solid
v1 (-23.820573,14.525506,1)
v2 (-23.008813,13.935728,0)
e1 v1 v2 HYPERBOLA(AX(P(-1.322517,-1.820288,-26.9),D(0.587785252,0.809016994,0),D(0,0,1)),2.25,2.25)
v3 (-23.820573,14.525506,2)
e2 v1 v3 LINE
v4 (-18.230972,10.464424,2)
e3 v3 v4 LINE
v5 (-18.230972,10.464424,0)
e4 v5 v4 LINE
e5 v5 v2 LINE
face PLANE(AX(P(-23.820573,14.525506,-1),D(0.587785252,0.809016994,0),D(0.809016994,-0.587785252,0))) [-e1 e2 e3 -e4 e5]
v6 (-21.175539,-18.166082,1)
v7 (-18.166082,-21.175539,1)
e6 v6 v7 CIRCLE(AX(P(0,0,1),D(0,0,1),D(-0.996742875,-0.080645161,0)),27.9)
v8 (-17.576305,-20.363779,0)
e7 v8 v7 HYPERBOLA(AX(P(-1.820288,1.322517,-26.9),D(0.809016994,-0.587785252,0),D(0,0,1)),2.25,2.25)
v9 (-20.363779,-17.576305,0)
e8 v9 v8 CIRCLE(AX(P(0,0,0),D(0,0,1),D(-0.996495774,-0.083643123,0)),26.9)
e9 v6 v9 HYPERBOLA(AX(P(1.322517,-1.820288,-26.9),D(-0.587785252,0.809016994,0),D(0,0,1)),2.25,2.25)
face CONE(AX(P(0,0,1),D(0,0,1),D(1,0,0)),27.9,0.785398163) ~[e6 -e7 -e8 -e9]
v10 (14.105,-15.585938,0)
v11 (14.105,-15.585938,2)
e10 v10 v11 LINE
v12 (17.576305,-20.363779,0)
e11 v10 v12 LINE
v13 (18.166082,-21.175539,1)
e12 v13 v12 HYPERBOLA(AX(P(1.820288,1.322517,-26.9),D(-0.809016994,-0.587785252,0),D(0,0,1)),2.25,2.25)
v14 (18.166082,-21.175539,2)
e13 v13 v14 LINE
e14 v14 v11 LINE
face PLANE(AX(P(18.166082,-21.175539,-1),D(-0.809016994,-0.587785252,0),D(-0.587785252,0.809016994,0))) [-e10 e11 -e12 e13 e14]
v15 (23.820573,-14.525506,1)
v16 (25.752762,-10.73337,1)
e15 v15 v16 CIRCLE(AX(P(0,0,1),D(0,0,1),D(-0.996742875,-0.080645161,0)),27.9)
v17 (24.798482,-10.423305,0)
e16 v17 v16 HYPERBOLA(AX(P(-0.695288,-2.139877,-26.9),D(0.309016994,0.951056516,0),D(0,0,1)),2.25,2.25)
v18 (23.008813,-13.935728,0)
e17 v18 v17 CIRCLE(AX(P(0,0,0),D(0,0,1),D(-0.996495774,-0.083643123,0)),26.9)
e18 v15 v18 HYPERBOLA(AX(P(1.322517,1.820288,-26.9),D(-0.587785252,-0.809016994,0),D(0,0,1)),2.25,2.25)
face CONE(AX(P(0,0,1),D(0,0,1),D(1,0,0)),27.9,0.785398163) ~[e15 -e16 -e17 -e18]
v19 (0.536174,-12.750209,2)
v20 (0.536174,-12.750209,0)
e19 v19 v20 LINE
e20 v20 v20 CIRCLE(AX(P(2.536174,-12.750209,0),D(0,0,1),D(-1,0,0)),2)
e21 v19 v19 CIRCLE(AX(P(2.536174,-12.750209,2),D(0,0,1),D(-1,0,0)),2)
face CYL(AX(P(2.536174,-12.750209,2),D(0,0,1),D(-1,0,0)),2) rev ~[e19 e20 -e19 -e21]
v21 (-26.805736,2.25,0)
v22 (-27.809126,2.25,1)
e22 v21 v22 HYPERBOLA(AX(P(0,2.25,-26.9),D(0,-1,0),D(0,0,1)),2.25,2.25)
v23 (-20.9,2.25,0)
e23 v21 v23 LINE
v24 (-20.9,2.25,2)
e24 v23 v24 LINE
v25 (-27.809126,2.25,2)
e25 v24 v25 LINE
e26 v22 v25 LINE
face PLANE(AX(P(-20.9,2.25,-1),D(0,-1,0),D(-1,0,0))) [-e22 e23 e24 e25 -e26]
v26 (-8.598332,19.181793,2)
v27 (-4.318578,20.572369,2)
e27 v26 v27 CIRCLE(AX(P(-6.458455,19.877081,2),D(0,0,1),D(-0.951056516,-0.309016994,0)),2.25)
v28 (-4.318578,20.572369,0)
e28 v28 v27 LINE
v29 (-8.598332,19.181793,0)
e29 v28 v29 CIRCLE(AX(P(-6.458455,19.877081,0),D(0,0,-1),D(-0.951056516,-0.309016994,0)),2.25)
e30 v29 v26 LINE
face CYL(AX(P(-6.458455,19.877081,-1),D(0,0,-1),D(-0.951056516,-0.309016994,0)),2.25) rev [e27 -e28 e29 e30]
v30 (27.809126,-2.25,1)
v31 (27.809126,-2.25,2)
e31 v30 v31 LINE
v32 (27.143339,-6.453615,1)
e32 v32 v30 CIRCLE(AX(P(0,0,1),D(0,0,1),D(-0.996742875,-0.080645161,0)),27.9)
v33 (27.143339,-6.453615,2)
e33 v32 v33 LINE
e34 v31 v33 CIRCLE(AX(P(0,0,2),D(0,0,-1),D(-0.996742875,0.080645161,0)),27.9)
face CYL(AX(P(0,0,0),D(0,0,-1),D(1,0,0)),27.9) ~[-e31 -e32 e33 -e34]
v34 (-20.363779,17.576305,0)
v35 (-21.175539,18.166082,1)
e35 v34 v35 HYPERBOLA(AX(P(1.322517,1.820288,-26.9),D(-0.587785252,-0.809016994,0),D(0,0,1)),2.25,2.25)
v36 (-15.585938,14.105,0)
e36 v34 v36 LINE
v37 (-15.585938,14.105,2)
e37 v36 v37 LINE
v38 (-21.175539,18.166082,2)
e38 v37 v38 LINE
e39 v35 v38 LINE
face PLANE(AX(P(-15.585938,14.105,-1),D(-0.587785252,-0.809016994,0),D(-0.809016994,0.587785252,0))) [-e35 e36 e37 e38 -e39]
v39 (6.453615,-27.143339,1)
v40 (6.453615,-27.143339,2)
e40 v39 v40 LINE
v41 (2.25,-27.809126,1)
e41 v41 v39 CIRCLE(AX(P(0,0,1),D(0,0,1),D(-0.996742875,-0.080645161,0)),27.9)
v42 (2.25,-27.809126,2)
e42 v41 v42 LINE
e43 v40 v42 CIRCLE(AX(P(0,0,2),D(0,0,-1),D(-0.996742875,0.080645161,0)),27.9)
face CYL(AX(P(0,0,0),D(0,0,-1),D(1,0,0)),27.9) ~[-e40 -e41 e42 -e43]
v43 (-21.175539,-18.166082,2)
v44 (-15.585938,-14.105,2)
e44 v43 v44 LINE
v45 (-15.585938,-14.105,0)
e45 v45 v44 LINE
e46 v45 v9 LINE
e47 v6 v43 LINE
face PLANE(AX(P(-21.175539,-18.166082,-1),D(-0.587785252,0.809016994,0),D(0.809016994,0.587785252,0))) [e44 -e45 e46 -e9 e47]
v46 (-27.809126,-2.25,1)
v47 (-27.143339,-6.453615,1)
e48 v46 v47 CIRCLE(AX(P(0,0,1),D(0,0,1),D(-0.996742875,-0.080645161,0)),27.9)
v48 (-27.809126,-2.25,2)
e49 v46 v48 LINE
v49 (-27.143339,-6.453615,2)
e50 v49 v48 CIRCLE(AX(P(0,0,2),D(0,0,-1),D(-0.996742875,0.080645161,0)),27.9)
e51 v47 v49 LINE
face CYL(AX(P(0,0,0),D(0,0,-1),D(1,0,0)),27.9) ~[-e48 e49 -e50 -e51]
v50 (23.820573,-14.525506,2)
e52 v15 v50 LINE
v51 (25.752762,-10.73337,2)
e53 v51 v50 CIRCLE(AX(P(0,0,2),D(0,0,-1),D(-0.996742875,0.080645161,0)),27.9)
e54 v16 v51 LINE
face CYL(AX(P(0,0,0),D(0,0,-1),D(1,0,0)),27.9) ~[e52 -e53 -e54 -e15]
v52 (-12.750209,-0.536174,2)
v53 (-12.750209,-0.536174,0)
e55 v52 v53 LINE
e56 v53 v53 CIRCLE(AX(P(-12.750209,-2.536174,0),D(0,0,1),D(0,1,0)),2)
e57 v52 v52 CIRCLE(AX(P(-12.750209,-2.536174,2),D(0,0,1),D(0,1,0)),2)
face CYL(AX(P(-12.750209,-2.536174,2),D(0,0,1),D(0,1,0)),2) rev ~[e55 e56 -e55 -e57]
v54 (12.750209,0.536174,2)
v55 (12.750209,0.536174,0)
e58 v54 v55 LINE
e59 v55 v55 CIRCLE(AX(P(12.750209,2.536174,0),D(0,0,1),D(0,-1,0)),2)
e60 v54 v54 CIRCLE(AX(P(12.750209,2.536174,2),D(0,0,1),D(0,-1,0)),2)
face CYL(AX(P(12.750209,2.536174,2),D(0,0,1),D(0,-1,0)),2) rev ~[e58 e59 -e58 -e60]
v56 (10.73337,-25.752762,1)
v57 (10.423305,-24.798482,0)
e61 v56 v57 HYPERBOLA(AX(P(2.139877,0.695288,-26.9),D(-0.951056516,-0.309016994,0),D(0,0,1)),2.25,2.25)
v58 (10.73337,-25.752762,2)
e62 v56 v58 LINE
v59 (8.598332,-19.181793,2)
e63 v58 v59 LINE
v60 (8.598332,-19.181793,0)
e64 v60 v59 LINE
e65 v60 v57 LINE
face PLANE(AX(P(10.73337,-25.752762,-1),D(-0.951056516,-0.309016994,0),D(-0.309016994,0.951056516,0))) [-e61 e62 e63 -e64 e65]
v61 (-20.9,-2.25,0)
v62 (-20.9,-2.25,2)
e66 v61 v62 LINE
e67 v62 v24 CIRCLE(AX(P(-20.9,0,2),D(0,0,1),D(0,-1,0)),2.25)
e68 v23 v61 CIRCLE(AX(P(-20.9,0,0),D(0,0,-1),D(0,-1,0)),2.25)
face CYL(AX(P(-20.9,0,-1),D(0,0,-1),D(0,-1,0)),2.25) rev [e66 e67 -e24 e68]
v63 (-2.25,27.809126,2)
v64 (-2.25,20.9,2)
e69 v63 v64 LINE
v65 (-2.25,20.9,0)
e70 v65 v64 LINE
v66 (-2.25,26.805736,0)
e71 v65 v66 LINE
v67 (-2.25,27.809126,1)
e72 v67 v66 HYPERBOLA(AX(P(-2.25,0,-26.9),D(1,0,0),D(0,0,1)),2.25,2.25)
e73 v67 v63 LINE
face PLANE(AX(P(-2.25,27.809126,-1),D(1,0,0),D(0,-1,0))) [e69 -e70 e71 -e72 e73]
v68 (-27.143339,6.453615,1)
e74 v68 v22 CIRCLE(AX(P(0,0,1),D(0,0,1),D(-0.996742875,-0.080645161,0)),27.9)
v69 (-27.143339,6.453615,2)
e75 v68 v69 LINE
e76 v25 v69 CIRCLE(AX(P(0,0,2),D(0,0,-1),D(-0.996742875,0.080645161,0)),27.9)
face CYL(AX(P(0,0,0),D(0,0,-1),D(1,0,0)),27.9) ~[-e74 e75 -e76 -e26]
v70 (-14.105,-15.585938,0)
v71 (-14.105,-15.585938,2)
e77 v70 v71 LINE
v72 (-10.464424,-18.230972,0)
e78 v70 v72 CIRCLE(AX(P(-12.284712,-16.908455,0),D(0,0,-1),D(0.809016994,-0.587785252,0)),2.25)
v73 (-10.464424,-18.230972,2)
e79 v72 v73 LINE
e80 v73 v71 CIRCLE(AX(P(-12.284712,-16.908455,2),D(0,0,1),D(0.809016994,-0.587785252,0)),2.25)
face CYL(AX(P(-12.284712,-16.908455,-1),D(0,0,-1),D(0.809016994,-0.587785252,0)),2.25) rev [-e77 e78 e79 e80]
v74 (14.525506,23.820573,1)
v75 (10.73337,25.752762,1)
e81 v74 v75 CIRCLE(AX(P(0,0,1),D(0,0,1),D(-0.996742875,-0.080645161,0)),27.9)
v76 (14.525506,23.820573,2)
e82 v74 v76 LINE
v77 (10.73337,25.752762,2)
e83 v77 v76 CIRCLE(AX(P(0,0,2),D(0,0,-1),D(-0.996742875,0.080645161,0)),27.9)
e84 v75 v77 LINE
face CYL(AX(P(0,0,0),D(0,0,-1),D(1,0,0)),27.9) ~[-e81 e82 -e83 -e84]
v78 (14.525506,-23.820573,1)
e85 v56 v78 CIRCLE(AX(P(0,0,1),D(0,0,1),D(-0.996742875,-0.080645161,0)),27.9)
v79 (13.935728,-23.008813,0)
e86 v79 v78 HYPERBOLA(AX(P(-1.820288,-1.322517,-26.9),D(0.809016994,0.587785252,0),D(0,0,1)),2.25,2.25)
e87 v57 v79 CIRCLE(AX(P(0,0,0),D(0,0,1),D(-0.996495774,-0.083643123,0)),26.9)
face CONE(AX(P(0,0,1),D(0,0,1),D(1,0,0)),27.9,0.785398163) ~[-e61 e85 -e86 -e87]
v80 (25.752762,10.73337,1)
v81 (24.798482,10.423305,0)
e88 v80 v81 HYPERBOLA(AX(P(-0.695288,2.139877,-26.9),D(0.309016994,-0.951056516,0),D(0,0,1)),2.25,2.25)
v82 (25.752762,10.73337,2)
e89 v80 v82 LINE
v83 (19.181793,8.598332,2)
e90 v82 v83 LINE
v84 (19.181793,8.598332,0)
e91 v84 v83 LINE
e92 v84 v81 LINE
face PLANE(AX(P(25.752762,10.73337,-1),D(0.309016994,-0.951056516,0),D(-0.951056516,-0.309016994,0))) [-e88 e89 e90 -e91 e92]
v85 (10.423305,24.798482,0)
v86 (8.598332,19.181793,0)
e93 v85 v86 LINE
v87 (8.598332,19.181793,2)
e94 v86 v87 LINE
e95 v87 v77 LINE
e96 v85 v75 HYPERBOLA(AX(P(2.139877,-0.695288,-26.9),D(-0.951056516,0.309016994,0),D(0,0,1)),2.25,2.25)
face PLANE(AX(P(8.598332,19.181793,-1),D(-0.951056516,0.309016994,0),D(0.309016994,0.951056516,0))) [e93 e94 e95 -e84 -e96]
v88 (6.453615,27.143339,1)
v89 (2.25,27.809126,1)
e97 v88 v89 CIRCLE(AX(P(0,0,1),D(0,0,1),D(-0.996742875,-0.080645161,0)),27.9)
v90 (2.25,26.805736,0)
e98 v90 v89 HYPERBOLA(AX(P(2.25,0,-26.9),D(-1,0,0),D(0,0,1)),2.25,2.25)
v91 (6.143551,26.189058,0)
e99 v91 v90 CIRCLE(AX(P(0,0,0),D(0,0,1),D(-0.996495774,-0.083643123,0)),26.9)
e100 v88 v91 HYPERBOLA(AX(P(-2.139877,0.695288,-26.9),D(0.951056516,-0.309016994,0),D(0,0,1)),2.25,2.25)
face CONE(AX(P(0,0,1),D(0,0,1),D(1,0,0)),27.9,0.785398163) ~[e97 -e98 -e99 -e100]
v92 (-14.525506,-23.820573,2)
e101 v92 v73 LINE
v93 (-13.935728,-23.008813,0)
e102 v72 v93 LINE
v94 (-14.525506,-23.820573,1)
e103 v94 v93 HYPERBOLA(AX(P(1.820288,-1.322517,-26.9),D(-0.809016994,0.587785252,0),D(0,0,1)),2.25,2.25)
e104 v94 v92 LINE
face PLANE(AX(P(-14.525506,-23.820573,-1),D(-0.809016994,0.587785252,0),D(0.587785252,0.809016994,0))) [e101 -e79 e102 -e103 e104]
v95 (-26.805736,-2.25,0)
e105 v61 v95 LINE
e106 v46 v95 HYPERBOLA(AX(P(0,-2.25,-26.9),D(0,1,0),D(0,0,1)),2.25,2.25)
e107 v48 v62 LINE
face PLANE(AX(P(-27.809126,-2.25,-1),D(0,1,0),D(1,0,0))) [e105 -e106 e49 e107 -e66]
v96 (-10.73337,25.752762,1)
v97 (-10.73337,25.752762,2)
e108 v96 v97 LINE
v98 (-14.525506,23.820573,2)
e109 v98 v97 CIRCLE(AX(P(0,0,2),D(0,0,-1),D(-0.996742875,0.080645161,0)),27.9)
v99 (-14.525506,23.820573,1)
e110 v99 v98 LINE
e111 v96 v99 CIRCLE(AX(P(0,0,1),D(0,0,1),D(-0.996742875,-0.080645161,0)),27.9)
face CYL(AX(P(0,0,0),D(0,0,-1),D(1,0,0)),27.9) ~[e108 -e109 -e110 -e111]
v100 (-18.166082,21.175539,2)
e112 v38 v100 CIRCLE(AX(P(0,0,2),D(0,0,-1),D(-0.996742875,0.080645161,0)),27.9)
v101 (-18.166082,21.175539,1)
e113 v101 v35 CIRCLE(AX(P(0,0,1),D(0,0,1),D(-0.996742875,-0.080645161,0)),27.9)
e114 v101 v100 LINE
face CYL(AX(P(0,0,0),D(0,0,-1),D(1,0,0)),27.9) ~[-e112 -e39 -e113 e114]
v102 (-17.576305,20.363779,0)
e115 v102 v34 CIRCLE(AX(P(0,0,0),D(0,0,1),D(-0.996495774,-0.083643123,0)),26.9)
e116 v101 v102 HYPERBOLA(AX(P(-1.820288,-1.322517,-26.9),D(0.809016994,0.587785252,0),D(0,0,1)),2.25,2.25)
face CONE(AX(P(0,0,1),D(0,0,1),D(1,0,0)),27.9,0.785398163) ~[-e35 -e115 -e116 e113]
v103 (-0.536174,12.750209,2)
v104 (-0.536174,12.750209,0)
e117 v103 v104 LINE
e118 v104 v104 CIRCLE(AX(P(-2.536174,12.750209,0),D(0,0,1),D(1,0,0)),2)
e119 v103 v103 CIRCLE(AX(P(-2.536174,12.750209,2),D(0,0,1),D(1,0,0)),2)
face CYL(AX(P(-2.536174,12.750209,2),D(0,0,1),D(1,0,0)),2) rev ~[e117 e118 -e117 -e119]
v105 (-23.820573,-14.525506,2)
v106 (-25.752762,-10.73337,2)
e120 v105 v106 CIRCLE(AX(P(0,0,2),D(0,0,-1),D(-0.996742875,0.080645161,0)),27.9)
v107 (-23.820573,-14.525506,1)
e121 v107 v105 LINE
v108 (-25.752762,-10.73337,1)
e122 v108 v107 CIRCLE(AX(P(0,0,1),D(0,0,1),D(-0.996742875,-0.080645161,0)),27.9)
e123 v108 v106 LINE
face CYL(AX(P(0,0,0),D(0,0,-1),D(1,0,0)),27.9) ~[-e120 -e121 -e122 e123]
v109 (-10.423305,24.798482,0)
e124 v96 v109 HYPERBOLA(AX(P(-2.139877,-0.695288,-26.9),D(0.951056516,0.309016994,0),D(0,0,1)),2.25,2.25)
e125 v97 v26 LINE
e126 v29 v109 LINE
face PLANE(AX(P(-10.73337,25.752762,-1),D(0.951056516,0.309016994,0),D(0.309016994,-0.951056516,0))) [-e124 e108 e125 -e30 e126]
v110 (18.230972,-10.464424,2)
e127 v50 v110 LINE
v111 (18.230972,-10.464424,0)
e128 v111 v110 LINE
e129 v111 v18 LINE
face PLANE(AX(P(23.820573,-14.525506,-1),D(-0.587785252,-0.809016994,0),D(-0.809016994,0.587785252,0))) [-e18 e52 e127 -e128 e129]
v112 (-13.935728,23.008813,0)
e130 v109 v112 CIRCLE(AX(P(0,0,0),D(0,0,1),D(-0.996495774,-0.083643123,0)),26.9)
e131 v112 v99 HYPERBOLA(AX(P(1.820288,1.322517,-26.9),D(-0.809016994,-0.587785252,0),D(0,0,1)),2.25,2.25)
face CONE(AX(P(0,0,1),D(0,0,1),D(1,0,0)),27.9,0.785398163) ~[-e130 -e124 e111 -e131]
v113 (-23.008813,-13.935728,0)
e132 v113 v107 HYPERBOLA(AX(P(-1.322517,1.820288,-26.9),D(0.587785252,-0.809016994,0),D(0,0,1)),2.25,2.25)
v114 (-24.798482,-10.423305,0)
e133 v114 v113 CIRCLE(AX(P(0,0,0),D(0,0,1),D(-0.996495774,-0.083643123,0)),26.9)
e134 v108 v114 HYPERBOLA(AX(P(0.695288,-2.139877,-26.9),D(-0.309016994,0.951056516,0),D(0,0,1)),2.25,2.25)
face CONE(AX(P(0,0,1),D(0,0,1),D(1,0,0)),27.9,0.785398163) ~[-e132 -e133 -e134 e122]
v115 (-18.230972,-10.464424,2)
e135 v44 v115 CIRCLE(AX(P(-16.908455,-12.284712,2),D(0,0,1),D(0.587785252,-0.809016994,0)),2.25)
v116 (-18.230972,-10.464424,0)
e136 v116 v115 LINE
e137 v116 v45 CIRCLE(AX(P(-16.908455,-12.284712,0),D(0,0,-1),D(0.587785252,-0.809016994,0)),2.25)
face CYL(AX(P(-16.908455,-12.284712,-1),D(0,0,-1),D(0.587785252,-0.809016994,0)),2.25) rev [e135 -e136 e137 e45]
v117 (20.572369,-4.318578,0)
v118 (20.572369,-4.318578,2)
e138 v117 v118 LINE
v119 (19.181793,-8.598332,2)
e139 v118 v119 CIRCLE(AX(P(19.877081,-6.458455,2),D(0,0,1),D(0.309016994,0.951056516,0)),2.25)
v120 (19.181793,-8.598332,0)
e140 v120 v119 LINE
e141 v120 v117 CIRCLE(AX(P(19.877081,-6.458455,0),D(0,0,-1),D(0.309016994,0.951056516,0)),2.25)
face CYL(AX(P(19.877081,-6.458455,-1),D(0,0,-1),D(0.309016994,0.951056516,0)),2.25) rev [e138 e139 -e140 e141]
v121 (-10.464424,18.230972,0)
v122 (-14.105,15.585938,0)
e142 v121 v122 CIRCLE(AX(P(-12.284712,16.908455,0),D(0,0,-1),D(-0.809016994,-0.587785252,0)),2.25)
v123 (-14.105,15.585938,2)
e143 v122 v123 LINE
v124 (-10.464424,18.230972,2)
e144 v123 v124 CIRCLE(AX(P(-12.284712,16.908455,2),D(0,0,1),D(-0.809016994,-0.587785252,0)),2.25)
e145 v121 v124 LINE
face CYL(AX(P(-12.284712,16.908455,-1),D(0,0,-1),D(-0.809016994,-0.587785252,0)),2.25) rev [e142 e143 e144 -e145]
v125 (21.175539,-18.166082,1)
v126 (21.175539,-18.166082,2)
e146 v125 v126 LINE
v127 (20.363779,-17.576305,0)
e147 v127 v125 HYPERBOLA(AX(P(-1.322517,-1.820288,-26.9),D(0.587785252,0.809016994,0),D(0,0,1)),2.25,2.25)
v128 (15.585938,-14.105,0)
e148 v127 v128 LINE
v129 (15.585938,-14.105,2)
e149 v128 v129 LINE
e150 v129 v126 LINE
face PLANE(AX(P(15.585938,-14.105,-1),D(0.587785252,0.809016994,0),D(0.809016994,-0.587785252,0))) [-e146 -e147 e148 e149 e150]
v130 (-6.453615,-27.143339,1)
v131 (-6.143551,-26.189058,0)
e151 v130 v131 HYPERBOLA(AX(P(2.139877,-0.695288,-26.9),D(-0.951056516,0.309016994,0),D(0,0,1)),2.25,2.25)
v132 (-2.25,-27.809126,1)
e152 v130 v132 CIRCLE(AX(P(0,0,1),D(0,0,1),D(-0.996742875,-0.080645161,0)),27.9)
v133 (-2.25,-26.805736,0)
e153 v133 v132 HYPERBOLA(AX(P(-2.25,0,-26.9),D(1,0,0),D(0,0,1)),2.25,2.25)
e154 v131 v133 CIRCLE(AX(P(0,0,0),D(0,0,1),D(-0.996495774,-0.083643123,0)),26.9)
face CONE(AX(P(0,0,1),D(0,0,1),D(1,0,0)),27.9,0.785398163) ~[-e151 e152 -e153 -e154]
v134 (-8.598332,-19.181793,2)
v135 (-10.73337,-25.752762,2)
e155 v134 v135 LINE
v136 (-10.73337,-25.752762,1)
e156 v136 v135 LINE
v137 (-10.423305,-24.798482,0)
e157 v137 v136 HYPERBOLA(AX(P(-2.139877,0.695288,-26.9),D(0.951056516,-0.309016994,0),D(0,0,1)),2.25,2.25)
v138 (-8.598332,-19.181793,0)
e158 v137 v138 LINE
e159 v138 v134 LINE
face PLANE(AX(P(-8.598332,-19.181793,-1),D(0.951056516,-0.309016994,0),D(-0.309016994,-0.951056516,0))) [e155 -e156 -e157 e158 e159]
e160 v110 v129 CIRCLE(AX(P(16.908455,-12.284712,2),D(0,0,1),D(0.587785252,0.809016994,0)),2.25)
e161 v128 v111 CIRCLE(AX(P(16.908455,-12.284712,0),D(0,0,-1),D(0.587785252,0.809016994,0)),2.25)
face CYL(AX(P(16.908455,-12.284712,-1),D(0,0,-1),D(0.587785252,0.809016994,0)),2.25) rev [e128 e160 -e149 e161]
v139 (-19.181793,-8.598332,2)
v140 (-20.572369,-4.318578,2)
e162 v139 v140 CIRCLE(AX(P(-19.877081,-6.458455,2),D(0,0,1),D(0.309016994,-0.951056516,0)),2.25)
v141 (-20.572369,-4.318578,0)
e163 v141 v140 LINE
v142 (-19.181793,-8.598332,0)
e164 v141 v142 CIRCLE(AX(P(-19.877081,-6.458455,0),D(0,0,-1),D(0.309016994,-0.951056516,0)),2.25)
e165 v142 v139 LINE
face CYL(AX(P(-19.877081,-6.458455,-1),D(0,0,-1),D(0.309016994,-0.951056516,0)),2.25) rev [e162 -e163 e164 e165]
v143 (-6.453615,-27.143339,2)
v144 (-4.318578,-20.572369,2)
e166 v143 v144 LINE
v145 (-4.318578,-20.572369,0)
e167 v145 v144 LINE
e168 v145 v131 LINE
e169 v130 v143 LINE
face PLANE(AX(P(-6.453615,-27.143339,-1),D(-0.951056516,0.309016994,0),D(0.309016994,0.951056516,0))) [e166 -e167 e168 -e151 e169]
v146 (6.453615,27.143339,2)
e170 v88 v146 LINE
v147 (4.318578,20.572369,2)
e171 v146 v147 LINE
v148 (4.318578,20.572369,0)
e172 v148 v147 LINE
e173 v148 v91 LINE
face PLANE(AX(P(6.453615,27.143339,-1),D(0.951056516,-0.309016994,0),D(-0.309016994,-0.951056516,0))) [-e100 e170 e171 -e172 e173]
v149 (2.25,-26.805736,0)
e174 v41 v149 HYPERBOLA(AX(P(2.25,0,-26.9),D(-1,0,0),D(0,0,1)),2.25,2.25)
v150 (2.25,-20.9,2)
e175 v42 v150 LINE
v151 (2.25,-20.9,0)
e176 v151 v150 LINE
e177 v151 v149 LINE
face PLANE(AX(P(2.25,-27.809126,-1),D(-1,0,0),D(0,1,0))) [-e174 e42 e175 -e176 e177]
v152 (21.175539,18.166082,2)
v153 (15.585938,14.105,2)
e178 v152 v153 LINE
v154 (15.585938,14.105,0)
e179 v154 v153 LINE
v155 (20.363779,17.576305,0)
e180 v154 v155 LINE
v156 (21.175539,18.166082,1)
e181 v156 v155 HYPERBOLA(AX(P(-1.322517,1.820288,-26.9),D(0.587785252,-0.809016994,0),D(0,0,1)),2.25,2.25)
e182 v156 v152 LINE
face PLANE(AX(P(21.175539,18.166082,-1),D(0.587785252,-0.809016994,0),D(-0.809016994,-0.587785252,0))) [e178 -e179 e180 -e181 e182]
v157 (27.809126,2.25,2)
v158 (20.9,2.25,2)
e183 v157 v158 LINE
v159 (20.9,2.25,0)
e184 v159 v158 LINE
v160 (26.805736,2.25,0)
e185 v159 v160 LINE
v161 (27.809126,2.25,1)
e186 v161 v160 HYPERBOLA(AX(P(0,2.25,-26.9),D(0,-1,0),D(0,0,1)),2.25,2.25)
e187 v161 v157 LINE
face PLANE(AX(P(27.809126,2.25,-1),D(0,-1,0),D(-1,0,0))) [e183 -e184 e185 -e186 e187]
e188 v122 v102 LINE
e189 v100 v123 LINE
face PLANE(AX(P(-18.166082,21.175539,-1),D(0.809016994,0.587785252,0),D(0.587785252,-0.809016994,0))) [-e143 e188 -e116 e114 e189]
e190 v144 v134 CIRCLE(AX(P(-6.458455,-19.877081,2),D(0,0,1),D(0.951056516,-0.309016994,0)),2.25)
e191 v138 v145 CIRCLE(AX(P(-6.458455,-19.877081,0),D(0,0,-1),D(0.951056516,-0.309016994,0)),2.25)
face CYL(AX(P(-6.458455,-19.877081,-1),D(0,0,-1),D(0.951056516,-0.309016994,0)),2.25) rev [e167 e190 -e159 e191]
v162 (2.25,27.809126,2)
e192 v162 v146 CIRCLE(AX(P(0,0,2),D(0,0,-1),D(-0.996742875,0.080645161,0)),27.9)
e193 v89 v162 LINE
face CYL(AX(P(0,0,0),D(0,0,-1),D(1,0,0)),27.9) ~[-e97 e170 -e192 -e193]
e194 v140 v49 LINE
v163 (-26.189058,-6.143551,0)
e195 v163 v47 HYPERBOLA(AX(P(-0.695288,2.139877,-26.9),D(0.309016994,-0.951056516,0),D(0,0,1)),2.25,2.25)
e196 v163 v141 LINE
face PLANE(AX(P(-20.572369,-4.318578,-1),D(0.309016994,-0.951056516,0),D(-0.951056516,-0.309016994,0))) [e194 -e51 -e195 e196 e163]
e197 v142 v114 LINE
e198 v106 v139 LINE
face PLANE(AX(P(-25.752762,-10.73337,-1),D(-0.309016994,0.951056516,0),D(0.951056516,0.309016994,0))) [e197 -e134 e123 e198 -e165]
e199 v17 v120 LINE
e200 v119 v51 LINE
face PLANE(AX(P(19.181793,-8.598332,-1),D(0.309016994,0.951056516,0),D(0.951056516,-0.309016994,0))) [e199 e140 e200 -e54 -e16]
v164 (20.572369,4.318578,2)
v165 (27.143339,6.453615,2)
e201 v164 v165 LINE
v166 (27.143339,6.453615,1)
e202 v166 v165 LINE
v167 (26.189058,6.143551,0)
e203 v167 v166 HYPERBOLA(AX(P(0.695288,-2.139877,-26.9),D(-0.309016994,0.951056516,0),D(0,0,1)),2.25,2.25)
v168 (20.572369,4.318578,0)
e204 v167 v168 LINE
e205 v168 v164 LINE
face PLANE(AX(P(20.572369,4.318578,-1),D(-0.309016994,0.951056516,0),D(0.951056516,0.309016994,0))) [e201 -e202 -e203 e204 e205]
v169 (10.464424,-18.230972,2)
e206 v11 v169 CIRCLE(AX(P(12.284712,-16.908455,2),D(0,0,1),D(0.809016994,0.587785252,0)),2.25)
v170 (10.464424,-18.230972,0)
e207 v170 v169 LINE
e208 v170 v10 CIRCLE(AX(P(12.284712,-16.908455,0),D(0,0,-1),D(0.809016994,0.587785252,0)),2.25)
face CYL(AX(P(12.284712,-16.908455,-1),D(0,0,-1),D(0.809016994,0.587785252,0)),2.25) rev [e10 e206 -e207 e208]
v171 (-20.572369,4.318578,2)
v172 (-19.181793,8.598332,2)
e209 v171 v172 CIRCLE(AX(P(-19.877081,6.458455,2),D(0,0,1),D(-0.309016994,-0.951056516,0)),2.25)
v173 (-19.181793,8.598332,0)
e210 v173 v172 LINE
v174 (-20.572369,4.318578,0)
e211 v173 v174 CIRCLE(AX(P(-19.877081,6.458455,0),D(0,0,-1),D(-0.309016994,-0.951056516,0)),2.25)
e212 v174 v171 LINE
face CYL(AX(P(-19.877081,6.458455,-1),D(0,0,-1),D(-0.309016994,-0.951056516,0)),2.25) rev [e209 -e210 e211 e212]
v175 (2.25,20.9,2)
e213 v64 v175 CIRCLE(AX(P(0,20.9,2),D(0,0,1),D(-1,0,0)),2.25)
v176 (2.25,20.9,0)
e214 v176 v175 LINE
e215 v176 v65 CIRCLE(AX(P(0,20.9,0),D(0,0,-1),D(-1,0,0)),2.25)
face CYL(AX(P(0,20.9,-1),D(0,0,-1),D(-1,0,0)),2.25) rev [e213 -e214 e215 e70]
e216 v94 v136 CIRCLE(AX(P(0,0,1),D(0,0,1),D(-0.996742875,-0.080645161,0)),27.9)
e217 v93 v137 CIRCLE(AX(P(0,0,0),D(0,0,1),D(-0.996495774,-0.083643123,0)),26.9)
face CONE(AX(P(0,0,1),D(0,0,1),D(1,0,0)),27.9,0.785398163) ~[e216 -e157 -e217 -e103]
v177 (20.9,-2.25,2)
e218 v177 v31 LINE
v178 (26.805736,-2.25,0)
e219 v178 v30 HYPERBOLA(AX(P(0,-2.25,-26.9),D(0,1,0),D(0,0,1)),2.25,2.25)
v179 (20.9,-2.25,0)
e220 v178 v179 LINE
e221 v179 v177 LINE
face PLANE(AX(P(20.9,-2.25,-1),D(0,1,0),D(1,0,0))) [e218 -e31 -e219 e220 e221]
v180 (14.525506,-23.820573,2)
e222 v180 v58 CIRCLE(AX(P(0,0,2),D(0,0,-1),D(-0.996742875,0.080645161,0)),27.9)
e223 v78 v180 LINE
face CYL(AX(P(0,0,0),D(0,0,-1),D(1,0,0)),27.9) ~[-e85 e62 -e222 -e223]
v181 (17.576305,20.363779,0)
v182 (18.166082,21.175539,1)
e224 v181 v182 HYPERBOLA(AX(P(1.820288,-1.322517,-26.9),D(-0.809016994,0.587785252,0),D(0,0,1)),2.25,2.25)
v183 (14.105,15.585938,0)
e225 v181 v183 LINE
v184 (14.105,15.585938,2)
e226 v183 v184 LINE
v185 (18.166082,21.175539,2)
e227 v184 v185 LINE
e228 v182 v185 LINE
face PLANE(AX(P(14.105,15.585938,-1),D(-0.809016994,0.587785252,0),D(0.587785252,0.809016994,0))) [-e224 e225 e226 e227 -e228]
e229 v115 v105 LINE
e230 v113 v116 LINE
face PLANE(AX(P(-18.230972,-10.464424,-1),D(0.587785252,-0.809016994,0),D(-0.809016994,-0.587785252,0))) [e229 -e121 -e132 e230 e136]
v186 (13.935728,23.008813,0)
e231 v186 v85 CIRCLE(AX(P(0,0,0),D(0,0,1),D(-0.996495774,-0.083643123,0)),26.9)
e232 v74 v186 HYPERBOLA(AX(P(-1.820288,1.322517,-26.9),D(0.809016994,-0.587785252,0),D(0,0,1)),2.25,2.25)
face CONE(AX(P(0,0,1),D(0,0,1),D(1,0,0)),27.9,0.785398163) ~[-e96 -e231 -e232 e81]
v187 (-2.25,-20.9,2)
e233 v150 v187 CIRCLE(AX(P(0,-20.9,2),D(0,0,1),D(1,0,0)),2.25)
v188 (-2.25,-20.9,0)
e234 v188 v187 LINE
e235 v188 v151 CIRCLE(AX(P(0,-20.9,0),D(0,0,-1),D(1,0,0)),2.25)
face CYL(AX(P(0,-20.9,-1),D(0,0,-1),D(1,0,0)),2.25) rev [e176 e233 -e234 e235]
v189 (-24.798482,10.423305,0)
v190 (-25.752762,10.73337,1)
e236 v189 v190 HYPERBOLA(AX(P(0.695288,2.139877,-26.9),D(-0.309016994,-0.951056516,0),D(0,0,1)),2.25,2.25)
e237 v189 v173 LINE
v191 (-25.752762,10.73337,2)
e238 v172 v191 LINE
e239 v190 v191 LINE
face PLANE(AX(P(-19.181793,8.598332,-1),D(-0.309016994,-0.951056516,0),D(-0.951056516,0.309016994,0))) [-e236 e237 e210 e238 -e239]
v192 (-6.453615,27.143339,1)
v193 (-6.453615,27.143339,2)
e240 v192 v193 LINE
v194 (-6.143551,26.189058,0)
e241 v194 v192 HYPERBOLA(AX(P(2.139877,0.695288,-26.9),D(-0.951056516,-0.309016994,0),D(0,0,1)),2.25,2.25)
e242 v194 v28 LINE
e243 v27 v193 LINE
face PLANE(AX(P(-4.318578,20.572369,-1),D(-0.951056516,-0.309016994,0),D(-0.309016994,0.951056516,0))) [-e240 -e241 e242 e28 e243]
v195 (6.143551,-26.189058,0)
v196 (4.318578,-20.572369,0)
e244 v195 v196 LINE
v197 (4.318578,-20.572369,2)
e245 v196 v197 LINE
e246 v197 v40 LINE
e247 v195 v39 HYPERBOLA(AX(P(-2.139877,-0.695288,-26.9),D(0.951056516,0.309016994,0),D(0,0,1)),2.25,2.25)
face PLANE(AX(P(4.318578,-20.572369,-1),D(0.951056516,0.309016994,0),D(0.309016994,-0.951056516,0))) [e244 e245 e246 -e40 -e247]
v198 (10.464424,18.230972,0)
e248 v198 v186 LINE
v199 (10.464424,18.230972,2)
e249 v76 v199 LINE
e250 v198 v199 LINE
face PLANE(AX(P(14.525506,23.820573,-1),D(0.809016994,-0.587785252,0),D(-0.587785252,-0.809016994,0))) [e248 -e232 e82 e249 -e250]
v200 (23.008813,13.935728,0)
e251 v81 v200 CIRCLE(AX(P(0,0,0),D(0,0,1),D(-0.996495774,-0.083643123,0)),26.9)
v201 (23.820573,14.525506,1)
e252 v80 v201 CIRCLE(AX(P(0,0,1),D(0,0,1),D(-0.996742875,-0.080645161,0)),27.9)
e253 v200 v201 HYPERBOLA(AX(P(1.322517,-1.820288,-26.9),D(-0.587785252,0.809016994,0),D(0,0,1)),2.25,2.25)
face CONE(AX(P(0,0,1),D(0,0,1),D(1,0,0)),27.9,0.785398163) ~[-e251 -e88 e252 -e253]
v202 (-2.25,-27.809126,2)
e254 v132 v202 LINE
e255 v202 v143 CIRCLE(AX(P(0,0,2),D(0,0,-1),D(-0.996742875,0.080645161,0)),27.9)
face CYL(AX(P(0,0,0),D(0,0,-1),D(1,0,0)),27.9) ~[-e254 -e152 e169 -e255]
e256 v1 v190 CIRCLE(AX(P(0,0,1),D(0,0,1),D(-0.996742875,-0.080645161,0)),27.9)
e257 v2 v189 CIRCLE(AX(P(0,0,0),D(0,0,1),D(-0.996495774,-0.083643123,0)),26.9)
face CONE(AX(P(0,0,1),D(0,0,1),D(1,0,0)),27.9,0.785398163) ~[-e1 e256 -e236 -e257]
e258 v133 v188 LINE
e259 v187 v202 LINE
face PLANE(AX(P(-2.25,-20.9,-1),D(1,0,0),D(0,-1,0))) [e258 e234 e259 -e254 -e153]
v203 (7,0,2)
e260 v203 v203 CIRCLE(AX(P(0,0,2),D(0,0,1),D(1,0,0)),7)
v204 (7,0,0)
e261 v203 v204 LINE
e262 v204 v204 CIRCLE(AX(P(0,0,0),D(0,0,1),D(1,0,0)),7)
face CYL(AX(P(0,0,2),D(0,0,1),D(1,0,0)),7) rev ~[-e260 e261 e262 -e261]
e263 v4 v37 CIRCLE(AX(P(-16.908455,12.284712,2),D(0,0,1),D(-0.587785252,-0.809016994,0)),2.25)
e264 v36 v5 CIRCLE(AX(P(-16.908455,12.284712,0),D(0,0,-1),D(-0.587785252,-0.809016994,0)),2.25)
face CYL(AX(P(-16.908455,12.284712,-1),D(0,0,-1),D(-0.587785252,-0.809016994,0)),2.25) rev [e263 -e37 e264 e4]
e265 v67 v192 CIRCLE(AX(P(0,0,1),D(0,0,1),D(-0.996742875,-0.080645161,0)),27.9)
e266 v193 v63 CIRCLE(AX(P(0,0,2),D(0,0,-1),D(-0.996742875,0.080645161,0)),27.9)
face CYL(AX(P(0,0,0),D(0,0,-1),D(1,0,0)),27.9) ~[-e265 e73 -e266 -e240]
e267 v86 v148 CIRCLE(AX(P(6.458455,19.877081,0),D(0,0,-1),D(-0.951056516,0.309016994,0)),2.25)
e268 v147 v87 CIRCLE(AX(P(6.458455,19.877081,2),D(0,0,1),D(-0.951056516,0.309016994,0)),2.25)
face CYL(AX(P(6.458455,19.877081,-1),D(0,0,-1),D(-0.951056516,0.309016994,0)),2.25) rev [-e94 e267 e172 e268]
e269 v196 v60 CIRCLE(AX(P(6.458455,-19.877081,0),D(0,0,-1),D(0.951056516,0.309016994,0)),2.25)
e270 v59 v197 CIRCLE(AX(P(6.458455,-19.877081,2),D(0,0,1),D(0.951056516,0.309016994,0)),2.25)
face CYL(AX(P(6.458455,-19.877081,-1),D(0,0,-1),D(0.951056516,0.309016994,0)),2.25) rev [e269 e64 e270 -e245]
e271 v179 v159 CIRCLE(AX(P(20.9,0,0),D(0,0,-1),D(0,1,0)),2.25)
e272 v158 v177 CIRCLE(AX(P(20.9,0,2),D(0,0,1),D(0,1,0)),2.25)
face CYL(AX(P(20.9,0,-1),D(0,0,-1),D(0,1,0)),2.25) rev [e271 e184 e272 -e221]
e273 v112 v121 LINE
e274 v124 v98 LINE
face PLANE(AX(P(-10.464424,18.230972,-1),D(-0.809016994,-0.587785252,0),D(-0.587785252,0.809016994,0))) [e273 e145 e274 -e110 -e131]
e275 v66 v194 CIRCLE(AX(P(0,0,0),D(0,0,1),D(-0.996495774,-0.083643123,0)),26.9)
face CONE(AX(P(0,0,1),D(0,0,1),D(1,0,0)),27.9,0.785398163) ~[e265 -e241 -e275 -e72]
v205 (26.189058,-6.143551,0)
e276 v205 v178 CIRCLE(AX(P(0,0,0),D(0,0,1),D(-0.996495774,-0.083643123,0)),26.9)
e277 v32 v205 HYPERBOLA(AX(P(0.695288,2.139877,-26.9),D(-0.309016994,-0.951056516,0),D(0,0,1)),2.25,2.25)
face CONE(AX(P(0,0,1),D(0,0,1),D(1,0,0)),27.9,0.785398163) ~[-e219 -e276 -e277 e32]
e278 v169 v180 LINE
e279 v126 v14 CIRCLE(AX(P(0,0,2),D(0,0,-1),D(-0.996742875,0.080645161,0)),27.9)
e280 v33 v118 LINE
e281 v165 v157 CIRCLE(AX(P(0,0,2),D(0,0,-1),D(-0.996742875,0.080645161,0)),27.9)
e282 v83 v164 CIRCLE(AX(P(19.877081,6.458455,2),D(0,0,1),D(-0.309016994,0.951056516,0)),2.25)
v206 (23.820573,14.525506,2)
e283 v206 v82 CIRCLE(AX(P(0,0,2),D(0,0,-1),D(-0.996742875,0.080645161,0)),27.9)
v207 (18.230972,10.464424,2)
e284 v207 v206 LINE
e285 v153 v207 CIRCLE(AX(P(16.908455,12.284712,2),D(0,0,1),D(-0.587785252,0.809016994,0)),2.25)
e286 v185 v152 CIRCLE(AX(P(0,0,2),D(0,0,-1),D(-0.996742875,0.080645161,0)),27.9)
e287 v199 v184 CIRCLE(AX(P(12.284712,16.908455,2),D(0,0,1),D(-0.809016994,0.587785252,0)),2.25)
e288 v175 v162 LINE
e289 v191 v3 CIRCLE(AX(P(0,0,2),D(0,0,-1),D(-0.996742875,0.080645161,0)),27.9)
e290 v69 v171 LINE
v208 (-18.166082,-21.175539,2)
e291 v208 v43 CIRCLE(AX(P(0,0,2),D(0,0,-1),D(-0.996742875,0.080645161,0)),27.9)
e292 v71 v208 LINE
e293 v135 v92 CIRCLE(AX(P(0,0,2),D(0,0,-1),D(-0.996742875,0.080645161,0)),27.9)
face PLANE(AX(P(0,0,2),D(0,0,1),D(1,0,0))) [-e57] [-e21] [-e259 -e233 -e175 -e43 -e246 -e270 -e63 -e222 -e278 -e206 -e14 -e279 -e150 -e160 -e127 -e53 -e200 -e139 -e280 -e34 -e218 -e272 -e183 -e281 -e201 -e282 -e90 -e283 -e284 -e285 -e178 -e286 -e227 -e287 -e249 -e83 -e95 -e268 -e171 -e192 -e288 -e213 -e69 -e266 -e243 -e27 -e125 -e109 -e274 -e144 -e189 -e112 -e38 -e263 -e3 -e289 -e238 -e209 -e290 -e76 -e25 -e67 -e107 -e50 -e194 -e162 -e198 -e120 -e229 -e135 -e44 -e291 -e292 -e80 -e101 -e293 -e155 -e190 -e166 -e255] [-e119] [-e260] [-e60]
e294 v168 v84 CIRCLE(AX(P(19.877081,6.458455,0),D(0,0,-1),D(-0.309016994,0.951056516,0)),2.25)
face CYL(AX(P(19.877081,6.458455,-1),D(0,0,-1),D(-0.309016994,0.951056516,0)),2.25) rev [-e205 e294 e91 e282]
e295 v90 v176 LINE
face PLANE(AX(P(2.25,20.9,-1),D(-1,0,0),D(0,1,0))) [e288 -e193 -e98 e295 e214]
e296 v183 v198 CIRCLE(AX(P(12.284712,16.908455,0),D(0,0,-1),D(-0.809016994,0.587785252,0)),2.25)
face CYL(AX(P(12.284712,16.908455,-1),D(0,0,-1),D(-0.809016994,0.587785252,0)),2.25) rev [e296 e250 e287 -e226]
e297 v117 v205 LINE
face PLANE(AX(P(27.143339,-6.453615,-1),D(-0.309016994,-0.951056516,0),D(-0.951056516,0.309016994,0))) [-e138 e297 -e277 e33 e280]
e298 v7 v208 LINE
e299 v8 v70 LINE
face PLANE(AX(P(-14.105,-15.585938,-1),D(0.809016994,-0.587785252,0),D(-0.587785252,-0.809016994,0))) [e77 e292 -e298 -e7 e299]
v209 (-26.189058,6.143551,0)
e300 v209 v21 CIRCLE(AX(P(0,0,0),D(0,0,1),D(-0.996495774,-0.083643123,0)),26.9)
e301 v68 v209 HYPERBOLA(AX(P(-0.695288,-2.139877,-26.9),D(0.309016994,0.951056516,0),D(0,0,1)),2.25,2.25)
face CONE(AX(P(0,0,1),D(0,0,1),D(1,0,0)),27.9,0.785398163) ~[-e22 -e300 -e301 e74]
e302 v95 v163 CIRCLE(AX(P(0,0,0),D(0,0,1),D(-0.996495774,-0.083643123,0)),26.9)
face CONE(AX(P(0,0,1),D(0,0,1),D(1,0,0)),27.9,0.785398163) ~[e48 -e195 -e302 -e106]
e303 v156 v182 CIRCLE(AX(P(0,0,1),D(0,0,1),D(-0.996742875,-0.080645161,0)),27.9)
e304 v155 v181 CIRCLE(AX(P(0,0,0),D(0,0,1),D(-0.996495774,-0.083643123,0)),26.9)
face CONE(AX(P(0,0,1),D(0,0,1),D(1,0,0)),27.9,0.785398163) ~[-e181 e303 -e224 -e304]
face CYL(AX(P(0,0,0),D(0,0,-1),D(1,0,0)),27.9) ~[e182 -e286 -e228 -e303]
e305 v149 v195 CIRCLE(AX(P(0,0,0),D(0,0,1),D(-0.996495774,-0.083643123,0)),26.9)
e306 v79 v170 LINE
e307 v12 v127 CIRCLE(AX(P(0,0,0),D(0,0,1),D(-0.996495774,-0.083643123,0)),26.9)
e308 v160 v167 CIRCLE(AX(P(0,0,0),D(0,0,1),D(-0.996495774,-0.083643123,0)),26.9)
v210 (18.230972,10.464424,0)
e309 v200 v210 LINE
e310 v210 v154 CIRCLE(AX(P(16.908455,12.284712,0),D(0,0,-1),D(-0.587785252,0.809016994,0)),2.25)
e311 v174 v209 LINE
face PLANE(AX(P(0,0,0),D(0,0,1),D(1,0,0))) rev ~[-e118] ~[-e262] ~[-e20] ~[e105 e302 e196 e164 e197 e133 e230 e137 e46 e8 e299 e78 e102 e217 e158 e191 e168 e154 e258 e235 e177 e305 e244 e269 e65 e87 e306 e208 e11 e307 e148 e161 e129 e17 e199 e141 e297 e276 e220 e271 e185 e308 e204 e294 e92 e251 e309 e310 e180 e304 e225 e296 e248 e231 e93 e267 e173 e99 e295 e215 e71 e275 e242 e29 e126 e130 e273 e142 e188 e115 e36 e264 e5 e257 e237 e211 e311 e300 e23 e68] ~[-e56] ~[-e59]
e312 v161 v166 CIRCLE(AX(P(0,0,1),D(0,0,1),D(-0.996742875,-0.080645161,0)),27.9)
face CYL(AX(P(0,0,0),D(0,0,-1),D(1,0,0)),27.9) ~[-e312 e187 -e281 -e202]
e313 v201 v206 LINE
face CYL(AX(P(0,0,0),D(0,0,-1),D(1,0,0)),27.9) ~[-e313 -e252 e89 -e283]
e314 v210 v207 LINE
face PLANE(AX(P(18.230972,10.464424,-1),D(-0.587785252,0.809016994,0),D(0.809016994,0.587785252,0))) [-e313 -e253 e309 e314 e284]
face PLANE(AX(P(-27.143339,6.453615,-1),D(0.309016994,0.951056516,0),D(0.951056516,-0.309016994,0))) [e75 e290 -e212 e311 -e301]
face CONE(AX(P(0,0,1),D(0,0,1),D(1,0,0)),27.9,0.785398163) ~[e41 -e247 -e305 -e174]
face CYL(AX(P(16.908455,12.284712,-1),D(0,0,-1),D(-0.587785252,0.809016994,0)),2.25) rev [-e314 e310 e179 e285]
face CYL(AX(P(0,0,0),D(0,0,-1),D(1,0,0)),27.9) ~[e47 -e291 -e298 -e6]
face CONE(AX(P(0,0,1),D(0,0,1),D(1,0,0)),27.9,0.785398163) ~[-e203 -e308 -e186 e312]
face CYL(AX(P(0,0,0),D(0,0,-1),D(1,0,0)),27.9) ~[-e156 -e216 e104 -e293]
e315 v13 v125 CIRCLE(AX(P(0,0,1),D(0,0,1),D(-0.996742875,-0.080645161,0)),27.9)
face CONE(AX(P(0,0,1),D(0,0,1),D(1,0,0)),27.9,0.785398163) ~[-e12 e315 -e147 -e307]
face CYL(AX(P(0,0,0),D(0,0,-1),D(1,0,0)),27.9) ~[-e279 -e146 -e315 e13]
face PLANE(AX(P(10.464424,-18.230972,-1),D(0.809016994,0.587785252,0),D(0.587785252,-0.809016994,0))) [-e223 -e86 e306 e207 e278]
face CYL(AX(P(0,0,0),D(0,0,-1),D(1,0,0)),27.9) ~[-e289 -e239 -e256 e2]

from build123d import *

# Parameters (mm, degrees)
SKETCH_1_R               = 27.9
EXTRUDE_1_DEPTH          = 2
SKETCH_2_R               = 7
CUT_EXTRUDE_2_DEPTH      = 3
SKETCH_3_R               = 2
CUT_EXTRUDE_3_DEPTH      = 3
PATTERN_CIRCULAR_1_COUNT = 4
CHAMFER_1_SIZE           = 1
CUT_EXTRUDE_START        = -3
CUT_EXTRUDE_4_DEPTH      = 3
PATTERN_CIRCULAR_3_COUNT = 20


with BuildPart() as part:
    # 草图1 → 拉伸1 (new body)
    with BuildSketch(Plane.XY):
        Circle(SKETCH_1_R)
    extrude(amount=EXTRUDE_1_DEPTH)

    # 草图2 → 拉伸2 (cut)
    with BuildSketch(Plane.XY.offset(2)):
        Circle(SKETCH_2_R)
    extrude(amount=-CUT_EXTRUDE_2_DEPTH, mode=Mode.SUBTRACT)

    # 草图3 → 拉伸3 (cut)
    with BuildSketch(Plane.XY.offset(2)):
        with Locations((-2.536174186, 12.750208645)):
            Circle(SKETCH_3_R)
    cut_extrude_3 = extrude(amount=-CUT_EXTRUDE_3_DEPTH, mode=Mode.SUBTRACT)

    # 阵列(圆周)1: 拉伸3 ×4 about axis
    pattern_circular_1_axis = Axis((0, 0, 0), (0, 0, 1))
    for i in range(1, PATTERN_CIRCULAR_1_COUNT):
        add(cut_extrude_3.rotate(pattern_circular_1_axis, i * 360 / PATTERN_CIRCULAR_1_COUNT), mode=Mode.SUBTRACT)

    # 倒角1
    chamfer_1_edges = [part.edges().sort_by_distance(p)[0] for p in [
        (-27.9, 0, 0),
    ]]
    chamfer(chamfer_1_edges, length=CHAMFER_1_SIZE)

    # 草图4 → 拉伸4 (cut)
    with BuildSketch(Plane.XY.offset(2).offset(CUT_EXTRUDE_START)):
        with BuildLine():
            Line((-20.9, 2.25), (-27.8091262, 2.25))
            ThreePointArc((-27.8091262, 2.25), (-27.9, 0), (-27.8091262, -2.25))
            Line((-27.8091262, -2.25), (-20.9, -2.25))
            ThreePointArc((-20.9, -2.25), (-18.65, 0), (-20.9, 2.25))
        make_face()
    cut_extrude_4 = extrude(amount=CUT_EXTRUDE_4_DEPTH, mode=Mode.SUBTRACT)

    # 阵列(圆周)3: 拉伸4 ×20 about axis
    pattern_circular_3_axis = Axis((0, 0, 0), (0, 0, 1))
    for i in range(1, PATTERN_CIRCULAR_3_COUNT):
        add(cut_extrude_4.rotate(pattern_circular_3_axis, i * 360 / PATTERN_CIRCULAR_3_COUNT), mode=Mode.SUBTRACT)


solid = part.part
